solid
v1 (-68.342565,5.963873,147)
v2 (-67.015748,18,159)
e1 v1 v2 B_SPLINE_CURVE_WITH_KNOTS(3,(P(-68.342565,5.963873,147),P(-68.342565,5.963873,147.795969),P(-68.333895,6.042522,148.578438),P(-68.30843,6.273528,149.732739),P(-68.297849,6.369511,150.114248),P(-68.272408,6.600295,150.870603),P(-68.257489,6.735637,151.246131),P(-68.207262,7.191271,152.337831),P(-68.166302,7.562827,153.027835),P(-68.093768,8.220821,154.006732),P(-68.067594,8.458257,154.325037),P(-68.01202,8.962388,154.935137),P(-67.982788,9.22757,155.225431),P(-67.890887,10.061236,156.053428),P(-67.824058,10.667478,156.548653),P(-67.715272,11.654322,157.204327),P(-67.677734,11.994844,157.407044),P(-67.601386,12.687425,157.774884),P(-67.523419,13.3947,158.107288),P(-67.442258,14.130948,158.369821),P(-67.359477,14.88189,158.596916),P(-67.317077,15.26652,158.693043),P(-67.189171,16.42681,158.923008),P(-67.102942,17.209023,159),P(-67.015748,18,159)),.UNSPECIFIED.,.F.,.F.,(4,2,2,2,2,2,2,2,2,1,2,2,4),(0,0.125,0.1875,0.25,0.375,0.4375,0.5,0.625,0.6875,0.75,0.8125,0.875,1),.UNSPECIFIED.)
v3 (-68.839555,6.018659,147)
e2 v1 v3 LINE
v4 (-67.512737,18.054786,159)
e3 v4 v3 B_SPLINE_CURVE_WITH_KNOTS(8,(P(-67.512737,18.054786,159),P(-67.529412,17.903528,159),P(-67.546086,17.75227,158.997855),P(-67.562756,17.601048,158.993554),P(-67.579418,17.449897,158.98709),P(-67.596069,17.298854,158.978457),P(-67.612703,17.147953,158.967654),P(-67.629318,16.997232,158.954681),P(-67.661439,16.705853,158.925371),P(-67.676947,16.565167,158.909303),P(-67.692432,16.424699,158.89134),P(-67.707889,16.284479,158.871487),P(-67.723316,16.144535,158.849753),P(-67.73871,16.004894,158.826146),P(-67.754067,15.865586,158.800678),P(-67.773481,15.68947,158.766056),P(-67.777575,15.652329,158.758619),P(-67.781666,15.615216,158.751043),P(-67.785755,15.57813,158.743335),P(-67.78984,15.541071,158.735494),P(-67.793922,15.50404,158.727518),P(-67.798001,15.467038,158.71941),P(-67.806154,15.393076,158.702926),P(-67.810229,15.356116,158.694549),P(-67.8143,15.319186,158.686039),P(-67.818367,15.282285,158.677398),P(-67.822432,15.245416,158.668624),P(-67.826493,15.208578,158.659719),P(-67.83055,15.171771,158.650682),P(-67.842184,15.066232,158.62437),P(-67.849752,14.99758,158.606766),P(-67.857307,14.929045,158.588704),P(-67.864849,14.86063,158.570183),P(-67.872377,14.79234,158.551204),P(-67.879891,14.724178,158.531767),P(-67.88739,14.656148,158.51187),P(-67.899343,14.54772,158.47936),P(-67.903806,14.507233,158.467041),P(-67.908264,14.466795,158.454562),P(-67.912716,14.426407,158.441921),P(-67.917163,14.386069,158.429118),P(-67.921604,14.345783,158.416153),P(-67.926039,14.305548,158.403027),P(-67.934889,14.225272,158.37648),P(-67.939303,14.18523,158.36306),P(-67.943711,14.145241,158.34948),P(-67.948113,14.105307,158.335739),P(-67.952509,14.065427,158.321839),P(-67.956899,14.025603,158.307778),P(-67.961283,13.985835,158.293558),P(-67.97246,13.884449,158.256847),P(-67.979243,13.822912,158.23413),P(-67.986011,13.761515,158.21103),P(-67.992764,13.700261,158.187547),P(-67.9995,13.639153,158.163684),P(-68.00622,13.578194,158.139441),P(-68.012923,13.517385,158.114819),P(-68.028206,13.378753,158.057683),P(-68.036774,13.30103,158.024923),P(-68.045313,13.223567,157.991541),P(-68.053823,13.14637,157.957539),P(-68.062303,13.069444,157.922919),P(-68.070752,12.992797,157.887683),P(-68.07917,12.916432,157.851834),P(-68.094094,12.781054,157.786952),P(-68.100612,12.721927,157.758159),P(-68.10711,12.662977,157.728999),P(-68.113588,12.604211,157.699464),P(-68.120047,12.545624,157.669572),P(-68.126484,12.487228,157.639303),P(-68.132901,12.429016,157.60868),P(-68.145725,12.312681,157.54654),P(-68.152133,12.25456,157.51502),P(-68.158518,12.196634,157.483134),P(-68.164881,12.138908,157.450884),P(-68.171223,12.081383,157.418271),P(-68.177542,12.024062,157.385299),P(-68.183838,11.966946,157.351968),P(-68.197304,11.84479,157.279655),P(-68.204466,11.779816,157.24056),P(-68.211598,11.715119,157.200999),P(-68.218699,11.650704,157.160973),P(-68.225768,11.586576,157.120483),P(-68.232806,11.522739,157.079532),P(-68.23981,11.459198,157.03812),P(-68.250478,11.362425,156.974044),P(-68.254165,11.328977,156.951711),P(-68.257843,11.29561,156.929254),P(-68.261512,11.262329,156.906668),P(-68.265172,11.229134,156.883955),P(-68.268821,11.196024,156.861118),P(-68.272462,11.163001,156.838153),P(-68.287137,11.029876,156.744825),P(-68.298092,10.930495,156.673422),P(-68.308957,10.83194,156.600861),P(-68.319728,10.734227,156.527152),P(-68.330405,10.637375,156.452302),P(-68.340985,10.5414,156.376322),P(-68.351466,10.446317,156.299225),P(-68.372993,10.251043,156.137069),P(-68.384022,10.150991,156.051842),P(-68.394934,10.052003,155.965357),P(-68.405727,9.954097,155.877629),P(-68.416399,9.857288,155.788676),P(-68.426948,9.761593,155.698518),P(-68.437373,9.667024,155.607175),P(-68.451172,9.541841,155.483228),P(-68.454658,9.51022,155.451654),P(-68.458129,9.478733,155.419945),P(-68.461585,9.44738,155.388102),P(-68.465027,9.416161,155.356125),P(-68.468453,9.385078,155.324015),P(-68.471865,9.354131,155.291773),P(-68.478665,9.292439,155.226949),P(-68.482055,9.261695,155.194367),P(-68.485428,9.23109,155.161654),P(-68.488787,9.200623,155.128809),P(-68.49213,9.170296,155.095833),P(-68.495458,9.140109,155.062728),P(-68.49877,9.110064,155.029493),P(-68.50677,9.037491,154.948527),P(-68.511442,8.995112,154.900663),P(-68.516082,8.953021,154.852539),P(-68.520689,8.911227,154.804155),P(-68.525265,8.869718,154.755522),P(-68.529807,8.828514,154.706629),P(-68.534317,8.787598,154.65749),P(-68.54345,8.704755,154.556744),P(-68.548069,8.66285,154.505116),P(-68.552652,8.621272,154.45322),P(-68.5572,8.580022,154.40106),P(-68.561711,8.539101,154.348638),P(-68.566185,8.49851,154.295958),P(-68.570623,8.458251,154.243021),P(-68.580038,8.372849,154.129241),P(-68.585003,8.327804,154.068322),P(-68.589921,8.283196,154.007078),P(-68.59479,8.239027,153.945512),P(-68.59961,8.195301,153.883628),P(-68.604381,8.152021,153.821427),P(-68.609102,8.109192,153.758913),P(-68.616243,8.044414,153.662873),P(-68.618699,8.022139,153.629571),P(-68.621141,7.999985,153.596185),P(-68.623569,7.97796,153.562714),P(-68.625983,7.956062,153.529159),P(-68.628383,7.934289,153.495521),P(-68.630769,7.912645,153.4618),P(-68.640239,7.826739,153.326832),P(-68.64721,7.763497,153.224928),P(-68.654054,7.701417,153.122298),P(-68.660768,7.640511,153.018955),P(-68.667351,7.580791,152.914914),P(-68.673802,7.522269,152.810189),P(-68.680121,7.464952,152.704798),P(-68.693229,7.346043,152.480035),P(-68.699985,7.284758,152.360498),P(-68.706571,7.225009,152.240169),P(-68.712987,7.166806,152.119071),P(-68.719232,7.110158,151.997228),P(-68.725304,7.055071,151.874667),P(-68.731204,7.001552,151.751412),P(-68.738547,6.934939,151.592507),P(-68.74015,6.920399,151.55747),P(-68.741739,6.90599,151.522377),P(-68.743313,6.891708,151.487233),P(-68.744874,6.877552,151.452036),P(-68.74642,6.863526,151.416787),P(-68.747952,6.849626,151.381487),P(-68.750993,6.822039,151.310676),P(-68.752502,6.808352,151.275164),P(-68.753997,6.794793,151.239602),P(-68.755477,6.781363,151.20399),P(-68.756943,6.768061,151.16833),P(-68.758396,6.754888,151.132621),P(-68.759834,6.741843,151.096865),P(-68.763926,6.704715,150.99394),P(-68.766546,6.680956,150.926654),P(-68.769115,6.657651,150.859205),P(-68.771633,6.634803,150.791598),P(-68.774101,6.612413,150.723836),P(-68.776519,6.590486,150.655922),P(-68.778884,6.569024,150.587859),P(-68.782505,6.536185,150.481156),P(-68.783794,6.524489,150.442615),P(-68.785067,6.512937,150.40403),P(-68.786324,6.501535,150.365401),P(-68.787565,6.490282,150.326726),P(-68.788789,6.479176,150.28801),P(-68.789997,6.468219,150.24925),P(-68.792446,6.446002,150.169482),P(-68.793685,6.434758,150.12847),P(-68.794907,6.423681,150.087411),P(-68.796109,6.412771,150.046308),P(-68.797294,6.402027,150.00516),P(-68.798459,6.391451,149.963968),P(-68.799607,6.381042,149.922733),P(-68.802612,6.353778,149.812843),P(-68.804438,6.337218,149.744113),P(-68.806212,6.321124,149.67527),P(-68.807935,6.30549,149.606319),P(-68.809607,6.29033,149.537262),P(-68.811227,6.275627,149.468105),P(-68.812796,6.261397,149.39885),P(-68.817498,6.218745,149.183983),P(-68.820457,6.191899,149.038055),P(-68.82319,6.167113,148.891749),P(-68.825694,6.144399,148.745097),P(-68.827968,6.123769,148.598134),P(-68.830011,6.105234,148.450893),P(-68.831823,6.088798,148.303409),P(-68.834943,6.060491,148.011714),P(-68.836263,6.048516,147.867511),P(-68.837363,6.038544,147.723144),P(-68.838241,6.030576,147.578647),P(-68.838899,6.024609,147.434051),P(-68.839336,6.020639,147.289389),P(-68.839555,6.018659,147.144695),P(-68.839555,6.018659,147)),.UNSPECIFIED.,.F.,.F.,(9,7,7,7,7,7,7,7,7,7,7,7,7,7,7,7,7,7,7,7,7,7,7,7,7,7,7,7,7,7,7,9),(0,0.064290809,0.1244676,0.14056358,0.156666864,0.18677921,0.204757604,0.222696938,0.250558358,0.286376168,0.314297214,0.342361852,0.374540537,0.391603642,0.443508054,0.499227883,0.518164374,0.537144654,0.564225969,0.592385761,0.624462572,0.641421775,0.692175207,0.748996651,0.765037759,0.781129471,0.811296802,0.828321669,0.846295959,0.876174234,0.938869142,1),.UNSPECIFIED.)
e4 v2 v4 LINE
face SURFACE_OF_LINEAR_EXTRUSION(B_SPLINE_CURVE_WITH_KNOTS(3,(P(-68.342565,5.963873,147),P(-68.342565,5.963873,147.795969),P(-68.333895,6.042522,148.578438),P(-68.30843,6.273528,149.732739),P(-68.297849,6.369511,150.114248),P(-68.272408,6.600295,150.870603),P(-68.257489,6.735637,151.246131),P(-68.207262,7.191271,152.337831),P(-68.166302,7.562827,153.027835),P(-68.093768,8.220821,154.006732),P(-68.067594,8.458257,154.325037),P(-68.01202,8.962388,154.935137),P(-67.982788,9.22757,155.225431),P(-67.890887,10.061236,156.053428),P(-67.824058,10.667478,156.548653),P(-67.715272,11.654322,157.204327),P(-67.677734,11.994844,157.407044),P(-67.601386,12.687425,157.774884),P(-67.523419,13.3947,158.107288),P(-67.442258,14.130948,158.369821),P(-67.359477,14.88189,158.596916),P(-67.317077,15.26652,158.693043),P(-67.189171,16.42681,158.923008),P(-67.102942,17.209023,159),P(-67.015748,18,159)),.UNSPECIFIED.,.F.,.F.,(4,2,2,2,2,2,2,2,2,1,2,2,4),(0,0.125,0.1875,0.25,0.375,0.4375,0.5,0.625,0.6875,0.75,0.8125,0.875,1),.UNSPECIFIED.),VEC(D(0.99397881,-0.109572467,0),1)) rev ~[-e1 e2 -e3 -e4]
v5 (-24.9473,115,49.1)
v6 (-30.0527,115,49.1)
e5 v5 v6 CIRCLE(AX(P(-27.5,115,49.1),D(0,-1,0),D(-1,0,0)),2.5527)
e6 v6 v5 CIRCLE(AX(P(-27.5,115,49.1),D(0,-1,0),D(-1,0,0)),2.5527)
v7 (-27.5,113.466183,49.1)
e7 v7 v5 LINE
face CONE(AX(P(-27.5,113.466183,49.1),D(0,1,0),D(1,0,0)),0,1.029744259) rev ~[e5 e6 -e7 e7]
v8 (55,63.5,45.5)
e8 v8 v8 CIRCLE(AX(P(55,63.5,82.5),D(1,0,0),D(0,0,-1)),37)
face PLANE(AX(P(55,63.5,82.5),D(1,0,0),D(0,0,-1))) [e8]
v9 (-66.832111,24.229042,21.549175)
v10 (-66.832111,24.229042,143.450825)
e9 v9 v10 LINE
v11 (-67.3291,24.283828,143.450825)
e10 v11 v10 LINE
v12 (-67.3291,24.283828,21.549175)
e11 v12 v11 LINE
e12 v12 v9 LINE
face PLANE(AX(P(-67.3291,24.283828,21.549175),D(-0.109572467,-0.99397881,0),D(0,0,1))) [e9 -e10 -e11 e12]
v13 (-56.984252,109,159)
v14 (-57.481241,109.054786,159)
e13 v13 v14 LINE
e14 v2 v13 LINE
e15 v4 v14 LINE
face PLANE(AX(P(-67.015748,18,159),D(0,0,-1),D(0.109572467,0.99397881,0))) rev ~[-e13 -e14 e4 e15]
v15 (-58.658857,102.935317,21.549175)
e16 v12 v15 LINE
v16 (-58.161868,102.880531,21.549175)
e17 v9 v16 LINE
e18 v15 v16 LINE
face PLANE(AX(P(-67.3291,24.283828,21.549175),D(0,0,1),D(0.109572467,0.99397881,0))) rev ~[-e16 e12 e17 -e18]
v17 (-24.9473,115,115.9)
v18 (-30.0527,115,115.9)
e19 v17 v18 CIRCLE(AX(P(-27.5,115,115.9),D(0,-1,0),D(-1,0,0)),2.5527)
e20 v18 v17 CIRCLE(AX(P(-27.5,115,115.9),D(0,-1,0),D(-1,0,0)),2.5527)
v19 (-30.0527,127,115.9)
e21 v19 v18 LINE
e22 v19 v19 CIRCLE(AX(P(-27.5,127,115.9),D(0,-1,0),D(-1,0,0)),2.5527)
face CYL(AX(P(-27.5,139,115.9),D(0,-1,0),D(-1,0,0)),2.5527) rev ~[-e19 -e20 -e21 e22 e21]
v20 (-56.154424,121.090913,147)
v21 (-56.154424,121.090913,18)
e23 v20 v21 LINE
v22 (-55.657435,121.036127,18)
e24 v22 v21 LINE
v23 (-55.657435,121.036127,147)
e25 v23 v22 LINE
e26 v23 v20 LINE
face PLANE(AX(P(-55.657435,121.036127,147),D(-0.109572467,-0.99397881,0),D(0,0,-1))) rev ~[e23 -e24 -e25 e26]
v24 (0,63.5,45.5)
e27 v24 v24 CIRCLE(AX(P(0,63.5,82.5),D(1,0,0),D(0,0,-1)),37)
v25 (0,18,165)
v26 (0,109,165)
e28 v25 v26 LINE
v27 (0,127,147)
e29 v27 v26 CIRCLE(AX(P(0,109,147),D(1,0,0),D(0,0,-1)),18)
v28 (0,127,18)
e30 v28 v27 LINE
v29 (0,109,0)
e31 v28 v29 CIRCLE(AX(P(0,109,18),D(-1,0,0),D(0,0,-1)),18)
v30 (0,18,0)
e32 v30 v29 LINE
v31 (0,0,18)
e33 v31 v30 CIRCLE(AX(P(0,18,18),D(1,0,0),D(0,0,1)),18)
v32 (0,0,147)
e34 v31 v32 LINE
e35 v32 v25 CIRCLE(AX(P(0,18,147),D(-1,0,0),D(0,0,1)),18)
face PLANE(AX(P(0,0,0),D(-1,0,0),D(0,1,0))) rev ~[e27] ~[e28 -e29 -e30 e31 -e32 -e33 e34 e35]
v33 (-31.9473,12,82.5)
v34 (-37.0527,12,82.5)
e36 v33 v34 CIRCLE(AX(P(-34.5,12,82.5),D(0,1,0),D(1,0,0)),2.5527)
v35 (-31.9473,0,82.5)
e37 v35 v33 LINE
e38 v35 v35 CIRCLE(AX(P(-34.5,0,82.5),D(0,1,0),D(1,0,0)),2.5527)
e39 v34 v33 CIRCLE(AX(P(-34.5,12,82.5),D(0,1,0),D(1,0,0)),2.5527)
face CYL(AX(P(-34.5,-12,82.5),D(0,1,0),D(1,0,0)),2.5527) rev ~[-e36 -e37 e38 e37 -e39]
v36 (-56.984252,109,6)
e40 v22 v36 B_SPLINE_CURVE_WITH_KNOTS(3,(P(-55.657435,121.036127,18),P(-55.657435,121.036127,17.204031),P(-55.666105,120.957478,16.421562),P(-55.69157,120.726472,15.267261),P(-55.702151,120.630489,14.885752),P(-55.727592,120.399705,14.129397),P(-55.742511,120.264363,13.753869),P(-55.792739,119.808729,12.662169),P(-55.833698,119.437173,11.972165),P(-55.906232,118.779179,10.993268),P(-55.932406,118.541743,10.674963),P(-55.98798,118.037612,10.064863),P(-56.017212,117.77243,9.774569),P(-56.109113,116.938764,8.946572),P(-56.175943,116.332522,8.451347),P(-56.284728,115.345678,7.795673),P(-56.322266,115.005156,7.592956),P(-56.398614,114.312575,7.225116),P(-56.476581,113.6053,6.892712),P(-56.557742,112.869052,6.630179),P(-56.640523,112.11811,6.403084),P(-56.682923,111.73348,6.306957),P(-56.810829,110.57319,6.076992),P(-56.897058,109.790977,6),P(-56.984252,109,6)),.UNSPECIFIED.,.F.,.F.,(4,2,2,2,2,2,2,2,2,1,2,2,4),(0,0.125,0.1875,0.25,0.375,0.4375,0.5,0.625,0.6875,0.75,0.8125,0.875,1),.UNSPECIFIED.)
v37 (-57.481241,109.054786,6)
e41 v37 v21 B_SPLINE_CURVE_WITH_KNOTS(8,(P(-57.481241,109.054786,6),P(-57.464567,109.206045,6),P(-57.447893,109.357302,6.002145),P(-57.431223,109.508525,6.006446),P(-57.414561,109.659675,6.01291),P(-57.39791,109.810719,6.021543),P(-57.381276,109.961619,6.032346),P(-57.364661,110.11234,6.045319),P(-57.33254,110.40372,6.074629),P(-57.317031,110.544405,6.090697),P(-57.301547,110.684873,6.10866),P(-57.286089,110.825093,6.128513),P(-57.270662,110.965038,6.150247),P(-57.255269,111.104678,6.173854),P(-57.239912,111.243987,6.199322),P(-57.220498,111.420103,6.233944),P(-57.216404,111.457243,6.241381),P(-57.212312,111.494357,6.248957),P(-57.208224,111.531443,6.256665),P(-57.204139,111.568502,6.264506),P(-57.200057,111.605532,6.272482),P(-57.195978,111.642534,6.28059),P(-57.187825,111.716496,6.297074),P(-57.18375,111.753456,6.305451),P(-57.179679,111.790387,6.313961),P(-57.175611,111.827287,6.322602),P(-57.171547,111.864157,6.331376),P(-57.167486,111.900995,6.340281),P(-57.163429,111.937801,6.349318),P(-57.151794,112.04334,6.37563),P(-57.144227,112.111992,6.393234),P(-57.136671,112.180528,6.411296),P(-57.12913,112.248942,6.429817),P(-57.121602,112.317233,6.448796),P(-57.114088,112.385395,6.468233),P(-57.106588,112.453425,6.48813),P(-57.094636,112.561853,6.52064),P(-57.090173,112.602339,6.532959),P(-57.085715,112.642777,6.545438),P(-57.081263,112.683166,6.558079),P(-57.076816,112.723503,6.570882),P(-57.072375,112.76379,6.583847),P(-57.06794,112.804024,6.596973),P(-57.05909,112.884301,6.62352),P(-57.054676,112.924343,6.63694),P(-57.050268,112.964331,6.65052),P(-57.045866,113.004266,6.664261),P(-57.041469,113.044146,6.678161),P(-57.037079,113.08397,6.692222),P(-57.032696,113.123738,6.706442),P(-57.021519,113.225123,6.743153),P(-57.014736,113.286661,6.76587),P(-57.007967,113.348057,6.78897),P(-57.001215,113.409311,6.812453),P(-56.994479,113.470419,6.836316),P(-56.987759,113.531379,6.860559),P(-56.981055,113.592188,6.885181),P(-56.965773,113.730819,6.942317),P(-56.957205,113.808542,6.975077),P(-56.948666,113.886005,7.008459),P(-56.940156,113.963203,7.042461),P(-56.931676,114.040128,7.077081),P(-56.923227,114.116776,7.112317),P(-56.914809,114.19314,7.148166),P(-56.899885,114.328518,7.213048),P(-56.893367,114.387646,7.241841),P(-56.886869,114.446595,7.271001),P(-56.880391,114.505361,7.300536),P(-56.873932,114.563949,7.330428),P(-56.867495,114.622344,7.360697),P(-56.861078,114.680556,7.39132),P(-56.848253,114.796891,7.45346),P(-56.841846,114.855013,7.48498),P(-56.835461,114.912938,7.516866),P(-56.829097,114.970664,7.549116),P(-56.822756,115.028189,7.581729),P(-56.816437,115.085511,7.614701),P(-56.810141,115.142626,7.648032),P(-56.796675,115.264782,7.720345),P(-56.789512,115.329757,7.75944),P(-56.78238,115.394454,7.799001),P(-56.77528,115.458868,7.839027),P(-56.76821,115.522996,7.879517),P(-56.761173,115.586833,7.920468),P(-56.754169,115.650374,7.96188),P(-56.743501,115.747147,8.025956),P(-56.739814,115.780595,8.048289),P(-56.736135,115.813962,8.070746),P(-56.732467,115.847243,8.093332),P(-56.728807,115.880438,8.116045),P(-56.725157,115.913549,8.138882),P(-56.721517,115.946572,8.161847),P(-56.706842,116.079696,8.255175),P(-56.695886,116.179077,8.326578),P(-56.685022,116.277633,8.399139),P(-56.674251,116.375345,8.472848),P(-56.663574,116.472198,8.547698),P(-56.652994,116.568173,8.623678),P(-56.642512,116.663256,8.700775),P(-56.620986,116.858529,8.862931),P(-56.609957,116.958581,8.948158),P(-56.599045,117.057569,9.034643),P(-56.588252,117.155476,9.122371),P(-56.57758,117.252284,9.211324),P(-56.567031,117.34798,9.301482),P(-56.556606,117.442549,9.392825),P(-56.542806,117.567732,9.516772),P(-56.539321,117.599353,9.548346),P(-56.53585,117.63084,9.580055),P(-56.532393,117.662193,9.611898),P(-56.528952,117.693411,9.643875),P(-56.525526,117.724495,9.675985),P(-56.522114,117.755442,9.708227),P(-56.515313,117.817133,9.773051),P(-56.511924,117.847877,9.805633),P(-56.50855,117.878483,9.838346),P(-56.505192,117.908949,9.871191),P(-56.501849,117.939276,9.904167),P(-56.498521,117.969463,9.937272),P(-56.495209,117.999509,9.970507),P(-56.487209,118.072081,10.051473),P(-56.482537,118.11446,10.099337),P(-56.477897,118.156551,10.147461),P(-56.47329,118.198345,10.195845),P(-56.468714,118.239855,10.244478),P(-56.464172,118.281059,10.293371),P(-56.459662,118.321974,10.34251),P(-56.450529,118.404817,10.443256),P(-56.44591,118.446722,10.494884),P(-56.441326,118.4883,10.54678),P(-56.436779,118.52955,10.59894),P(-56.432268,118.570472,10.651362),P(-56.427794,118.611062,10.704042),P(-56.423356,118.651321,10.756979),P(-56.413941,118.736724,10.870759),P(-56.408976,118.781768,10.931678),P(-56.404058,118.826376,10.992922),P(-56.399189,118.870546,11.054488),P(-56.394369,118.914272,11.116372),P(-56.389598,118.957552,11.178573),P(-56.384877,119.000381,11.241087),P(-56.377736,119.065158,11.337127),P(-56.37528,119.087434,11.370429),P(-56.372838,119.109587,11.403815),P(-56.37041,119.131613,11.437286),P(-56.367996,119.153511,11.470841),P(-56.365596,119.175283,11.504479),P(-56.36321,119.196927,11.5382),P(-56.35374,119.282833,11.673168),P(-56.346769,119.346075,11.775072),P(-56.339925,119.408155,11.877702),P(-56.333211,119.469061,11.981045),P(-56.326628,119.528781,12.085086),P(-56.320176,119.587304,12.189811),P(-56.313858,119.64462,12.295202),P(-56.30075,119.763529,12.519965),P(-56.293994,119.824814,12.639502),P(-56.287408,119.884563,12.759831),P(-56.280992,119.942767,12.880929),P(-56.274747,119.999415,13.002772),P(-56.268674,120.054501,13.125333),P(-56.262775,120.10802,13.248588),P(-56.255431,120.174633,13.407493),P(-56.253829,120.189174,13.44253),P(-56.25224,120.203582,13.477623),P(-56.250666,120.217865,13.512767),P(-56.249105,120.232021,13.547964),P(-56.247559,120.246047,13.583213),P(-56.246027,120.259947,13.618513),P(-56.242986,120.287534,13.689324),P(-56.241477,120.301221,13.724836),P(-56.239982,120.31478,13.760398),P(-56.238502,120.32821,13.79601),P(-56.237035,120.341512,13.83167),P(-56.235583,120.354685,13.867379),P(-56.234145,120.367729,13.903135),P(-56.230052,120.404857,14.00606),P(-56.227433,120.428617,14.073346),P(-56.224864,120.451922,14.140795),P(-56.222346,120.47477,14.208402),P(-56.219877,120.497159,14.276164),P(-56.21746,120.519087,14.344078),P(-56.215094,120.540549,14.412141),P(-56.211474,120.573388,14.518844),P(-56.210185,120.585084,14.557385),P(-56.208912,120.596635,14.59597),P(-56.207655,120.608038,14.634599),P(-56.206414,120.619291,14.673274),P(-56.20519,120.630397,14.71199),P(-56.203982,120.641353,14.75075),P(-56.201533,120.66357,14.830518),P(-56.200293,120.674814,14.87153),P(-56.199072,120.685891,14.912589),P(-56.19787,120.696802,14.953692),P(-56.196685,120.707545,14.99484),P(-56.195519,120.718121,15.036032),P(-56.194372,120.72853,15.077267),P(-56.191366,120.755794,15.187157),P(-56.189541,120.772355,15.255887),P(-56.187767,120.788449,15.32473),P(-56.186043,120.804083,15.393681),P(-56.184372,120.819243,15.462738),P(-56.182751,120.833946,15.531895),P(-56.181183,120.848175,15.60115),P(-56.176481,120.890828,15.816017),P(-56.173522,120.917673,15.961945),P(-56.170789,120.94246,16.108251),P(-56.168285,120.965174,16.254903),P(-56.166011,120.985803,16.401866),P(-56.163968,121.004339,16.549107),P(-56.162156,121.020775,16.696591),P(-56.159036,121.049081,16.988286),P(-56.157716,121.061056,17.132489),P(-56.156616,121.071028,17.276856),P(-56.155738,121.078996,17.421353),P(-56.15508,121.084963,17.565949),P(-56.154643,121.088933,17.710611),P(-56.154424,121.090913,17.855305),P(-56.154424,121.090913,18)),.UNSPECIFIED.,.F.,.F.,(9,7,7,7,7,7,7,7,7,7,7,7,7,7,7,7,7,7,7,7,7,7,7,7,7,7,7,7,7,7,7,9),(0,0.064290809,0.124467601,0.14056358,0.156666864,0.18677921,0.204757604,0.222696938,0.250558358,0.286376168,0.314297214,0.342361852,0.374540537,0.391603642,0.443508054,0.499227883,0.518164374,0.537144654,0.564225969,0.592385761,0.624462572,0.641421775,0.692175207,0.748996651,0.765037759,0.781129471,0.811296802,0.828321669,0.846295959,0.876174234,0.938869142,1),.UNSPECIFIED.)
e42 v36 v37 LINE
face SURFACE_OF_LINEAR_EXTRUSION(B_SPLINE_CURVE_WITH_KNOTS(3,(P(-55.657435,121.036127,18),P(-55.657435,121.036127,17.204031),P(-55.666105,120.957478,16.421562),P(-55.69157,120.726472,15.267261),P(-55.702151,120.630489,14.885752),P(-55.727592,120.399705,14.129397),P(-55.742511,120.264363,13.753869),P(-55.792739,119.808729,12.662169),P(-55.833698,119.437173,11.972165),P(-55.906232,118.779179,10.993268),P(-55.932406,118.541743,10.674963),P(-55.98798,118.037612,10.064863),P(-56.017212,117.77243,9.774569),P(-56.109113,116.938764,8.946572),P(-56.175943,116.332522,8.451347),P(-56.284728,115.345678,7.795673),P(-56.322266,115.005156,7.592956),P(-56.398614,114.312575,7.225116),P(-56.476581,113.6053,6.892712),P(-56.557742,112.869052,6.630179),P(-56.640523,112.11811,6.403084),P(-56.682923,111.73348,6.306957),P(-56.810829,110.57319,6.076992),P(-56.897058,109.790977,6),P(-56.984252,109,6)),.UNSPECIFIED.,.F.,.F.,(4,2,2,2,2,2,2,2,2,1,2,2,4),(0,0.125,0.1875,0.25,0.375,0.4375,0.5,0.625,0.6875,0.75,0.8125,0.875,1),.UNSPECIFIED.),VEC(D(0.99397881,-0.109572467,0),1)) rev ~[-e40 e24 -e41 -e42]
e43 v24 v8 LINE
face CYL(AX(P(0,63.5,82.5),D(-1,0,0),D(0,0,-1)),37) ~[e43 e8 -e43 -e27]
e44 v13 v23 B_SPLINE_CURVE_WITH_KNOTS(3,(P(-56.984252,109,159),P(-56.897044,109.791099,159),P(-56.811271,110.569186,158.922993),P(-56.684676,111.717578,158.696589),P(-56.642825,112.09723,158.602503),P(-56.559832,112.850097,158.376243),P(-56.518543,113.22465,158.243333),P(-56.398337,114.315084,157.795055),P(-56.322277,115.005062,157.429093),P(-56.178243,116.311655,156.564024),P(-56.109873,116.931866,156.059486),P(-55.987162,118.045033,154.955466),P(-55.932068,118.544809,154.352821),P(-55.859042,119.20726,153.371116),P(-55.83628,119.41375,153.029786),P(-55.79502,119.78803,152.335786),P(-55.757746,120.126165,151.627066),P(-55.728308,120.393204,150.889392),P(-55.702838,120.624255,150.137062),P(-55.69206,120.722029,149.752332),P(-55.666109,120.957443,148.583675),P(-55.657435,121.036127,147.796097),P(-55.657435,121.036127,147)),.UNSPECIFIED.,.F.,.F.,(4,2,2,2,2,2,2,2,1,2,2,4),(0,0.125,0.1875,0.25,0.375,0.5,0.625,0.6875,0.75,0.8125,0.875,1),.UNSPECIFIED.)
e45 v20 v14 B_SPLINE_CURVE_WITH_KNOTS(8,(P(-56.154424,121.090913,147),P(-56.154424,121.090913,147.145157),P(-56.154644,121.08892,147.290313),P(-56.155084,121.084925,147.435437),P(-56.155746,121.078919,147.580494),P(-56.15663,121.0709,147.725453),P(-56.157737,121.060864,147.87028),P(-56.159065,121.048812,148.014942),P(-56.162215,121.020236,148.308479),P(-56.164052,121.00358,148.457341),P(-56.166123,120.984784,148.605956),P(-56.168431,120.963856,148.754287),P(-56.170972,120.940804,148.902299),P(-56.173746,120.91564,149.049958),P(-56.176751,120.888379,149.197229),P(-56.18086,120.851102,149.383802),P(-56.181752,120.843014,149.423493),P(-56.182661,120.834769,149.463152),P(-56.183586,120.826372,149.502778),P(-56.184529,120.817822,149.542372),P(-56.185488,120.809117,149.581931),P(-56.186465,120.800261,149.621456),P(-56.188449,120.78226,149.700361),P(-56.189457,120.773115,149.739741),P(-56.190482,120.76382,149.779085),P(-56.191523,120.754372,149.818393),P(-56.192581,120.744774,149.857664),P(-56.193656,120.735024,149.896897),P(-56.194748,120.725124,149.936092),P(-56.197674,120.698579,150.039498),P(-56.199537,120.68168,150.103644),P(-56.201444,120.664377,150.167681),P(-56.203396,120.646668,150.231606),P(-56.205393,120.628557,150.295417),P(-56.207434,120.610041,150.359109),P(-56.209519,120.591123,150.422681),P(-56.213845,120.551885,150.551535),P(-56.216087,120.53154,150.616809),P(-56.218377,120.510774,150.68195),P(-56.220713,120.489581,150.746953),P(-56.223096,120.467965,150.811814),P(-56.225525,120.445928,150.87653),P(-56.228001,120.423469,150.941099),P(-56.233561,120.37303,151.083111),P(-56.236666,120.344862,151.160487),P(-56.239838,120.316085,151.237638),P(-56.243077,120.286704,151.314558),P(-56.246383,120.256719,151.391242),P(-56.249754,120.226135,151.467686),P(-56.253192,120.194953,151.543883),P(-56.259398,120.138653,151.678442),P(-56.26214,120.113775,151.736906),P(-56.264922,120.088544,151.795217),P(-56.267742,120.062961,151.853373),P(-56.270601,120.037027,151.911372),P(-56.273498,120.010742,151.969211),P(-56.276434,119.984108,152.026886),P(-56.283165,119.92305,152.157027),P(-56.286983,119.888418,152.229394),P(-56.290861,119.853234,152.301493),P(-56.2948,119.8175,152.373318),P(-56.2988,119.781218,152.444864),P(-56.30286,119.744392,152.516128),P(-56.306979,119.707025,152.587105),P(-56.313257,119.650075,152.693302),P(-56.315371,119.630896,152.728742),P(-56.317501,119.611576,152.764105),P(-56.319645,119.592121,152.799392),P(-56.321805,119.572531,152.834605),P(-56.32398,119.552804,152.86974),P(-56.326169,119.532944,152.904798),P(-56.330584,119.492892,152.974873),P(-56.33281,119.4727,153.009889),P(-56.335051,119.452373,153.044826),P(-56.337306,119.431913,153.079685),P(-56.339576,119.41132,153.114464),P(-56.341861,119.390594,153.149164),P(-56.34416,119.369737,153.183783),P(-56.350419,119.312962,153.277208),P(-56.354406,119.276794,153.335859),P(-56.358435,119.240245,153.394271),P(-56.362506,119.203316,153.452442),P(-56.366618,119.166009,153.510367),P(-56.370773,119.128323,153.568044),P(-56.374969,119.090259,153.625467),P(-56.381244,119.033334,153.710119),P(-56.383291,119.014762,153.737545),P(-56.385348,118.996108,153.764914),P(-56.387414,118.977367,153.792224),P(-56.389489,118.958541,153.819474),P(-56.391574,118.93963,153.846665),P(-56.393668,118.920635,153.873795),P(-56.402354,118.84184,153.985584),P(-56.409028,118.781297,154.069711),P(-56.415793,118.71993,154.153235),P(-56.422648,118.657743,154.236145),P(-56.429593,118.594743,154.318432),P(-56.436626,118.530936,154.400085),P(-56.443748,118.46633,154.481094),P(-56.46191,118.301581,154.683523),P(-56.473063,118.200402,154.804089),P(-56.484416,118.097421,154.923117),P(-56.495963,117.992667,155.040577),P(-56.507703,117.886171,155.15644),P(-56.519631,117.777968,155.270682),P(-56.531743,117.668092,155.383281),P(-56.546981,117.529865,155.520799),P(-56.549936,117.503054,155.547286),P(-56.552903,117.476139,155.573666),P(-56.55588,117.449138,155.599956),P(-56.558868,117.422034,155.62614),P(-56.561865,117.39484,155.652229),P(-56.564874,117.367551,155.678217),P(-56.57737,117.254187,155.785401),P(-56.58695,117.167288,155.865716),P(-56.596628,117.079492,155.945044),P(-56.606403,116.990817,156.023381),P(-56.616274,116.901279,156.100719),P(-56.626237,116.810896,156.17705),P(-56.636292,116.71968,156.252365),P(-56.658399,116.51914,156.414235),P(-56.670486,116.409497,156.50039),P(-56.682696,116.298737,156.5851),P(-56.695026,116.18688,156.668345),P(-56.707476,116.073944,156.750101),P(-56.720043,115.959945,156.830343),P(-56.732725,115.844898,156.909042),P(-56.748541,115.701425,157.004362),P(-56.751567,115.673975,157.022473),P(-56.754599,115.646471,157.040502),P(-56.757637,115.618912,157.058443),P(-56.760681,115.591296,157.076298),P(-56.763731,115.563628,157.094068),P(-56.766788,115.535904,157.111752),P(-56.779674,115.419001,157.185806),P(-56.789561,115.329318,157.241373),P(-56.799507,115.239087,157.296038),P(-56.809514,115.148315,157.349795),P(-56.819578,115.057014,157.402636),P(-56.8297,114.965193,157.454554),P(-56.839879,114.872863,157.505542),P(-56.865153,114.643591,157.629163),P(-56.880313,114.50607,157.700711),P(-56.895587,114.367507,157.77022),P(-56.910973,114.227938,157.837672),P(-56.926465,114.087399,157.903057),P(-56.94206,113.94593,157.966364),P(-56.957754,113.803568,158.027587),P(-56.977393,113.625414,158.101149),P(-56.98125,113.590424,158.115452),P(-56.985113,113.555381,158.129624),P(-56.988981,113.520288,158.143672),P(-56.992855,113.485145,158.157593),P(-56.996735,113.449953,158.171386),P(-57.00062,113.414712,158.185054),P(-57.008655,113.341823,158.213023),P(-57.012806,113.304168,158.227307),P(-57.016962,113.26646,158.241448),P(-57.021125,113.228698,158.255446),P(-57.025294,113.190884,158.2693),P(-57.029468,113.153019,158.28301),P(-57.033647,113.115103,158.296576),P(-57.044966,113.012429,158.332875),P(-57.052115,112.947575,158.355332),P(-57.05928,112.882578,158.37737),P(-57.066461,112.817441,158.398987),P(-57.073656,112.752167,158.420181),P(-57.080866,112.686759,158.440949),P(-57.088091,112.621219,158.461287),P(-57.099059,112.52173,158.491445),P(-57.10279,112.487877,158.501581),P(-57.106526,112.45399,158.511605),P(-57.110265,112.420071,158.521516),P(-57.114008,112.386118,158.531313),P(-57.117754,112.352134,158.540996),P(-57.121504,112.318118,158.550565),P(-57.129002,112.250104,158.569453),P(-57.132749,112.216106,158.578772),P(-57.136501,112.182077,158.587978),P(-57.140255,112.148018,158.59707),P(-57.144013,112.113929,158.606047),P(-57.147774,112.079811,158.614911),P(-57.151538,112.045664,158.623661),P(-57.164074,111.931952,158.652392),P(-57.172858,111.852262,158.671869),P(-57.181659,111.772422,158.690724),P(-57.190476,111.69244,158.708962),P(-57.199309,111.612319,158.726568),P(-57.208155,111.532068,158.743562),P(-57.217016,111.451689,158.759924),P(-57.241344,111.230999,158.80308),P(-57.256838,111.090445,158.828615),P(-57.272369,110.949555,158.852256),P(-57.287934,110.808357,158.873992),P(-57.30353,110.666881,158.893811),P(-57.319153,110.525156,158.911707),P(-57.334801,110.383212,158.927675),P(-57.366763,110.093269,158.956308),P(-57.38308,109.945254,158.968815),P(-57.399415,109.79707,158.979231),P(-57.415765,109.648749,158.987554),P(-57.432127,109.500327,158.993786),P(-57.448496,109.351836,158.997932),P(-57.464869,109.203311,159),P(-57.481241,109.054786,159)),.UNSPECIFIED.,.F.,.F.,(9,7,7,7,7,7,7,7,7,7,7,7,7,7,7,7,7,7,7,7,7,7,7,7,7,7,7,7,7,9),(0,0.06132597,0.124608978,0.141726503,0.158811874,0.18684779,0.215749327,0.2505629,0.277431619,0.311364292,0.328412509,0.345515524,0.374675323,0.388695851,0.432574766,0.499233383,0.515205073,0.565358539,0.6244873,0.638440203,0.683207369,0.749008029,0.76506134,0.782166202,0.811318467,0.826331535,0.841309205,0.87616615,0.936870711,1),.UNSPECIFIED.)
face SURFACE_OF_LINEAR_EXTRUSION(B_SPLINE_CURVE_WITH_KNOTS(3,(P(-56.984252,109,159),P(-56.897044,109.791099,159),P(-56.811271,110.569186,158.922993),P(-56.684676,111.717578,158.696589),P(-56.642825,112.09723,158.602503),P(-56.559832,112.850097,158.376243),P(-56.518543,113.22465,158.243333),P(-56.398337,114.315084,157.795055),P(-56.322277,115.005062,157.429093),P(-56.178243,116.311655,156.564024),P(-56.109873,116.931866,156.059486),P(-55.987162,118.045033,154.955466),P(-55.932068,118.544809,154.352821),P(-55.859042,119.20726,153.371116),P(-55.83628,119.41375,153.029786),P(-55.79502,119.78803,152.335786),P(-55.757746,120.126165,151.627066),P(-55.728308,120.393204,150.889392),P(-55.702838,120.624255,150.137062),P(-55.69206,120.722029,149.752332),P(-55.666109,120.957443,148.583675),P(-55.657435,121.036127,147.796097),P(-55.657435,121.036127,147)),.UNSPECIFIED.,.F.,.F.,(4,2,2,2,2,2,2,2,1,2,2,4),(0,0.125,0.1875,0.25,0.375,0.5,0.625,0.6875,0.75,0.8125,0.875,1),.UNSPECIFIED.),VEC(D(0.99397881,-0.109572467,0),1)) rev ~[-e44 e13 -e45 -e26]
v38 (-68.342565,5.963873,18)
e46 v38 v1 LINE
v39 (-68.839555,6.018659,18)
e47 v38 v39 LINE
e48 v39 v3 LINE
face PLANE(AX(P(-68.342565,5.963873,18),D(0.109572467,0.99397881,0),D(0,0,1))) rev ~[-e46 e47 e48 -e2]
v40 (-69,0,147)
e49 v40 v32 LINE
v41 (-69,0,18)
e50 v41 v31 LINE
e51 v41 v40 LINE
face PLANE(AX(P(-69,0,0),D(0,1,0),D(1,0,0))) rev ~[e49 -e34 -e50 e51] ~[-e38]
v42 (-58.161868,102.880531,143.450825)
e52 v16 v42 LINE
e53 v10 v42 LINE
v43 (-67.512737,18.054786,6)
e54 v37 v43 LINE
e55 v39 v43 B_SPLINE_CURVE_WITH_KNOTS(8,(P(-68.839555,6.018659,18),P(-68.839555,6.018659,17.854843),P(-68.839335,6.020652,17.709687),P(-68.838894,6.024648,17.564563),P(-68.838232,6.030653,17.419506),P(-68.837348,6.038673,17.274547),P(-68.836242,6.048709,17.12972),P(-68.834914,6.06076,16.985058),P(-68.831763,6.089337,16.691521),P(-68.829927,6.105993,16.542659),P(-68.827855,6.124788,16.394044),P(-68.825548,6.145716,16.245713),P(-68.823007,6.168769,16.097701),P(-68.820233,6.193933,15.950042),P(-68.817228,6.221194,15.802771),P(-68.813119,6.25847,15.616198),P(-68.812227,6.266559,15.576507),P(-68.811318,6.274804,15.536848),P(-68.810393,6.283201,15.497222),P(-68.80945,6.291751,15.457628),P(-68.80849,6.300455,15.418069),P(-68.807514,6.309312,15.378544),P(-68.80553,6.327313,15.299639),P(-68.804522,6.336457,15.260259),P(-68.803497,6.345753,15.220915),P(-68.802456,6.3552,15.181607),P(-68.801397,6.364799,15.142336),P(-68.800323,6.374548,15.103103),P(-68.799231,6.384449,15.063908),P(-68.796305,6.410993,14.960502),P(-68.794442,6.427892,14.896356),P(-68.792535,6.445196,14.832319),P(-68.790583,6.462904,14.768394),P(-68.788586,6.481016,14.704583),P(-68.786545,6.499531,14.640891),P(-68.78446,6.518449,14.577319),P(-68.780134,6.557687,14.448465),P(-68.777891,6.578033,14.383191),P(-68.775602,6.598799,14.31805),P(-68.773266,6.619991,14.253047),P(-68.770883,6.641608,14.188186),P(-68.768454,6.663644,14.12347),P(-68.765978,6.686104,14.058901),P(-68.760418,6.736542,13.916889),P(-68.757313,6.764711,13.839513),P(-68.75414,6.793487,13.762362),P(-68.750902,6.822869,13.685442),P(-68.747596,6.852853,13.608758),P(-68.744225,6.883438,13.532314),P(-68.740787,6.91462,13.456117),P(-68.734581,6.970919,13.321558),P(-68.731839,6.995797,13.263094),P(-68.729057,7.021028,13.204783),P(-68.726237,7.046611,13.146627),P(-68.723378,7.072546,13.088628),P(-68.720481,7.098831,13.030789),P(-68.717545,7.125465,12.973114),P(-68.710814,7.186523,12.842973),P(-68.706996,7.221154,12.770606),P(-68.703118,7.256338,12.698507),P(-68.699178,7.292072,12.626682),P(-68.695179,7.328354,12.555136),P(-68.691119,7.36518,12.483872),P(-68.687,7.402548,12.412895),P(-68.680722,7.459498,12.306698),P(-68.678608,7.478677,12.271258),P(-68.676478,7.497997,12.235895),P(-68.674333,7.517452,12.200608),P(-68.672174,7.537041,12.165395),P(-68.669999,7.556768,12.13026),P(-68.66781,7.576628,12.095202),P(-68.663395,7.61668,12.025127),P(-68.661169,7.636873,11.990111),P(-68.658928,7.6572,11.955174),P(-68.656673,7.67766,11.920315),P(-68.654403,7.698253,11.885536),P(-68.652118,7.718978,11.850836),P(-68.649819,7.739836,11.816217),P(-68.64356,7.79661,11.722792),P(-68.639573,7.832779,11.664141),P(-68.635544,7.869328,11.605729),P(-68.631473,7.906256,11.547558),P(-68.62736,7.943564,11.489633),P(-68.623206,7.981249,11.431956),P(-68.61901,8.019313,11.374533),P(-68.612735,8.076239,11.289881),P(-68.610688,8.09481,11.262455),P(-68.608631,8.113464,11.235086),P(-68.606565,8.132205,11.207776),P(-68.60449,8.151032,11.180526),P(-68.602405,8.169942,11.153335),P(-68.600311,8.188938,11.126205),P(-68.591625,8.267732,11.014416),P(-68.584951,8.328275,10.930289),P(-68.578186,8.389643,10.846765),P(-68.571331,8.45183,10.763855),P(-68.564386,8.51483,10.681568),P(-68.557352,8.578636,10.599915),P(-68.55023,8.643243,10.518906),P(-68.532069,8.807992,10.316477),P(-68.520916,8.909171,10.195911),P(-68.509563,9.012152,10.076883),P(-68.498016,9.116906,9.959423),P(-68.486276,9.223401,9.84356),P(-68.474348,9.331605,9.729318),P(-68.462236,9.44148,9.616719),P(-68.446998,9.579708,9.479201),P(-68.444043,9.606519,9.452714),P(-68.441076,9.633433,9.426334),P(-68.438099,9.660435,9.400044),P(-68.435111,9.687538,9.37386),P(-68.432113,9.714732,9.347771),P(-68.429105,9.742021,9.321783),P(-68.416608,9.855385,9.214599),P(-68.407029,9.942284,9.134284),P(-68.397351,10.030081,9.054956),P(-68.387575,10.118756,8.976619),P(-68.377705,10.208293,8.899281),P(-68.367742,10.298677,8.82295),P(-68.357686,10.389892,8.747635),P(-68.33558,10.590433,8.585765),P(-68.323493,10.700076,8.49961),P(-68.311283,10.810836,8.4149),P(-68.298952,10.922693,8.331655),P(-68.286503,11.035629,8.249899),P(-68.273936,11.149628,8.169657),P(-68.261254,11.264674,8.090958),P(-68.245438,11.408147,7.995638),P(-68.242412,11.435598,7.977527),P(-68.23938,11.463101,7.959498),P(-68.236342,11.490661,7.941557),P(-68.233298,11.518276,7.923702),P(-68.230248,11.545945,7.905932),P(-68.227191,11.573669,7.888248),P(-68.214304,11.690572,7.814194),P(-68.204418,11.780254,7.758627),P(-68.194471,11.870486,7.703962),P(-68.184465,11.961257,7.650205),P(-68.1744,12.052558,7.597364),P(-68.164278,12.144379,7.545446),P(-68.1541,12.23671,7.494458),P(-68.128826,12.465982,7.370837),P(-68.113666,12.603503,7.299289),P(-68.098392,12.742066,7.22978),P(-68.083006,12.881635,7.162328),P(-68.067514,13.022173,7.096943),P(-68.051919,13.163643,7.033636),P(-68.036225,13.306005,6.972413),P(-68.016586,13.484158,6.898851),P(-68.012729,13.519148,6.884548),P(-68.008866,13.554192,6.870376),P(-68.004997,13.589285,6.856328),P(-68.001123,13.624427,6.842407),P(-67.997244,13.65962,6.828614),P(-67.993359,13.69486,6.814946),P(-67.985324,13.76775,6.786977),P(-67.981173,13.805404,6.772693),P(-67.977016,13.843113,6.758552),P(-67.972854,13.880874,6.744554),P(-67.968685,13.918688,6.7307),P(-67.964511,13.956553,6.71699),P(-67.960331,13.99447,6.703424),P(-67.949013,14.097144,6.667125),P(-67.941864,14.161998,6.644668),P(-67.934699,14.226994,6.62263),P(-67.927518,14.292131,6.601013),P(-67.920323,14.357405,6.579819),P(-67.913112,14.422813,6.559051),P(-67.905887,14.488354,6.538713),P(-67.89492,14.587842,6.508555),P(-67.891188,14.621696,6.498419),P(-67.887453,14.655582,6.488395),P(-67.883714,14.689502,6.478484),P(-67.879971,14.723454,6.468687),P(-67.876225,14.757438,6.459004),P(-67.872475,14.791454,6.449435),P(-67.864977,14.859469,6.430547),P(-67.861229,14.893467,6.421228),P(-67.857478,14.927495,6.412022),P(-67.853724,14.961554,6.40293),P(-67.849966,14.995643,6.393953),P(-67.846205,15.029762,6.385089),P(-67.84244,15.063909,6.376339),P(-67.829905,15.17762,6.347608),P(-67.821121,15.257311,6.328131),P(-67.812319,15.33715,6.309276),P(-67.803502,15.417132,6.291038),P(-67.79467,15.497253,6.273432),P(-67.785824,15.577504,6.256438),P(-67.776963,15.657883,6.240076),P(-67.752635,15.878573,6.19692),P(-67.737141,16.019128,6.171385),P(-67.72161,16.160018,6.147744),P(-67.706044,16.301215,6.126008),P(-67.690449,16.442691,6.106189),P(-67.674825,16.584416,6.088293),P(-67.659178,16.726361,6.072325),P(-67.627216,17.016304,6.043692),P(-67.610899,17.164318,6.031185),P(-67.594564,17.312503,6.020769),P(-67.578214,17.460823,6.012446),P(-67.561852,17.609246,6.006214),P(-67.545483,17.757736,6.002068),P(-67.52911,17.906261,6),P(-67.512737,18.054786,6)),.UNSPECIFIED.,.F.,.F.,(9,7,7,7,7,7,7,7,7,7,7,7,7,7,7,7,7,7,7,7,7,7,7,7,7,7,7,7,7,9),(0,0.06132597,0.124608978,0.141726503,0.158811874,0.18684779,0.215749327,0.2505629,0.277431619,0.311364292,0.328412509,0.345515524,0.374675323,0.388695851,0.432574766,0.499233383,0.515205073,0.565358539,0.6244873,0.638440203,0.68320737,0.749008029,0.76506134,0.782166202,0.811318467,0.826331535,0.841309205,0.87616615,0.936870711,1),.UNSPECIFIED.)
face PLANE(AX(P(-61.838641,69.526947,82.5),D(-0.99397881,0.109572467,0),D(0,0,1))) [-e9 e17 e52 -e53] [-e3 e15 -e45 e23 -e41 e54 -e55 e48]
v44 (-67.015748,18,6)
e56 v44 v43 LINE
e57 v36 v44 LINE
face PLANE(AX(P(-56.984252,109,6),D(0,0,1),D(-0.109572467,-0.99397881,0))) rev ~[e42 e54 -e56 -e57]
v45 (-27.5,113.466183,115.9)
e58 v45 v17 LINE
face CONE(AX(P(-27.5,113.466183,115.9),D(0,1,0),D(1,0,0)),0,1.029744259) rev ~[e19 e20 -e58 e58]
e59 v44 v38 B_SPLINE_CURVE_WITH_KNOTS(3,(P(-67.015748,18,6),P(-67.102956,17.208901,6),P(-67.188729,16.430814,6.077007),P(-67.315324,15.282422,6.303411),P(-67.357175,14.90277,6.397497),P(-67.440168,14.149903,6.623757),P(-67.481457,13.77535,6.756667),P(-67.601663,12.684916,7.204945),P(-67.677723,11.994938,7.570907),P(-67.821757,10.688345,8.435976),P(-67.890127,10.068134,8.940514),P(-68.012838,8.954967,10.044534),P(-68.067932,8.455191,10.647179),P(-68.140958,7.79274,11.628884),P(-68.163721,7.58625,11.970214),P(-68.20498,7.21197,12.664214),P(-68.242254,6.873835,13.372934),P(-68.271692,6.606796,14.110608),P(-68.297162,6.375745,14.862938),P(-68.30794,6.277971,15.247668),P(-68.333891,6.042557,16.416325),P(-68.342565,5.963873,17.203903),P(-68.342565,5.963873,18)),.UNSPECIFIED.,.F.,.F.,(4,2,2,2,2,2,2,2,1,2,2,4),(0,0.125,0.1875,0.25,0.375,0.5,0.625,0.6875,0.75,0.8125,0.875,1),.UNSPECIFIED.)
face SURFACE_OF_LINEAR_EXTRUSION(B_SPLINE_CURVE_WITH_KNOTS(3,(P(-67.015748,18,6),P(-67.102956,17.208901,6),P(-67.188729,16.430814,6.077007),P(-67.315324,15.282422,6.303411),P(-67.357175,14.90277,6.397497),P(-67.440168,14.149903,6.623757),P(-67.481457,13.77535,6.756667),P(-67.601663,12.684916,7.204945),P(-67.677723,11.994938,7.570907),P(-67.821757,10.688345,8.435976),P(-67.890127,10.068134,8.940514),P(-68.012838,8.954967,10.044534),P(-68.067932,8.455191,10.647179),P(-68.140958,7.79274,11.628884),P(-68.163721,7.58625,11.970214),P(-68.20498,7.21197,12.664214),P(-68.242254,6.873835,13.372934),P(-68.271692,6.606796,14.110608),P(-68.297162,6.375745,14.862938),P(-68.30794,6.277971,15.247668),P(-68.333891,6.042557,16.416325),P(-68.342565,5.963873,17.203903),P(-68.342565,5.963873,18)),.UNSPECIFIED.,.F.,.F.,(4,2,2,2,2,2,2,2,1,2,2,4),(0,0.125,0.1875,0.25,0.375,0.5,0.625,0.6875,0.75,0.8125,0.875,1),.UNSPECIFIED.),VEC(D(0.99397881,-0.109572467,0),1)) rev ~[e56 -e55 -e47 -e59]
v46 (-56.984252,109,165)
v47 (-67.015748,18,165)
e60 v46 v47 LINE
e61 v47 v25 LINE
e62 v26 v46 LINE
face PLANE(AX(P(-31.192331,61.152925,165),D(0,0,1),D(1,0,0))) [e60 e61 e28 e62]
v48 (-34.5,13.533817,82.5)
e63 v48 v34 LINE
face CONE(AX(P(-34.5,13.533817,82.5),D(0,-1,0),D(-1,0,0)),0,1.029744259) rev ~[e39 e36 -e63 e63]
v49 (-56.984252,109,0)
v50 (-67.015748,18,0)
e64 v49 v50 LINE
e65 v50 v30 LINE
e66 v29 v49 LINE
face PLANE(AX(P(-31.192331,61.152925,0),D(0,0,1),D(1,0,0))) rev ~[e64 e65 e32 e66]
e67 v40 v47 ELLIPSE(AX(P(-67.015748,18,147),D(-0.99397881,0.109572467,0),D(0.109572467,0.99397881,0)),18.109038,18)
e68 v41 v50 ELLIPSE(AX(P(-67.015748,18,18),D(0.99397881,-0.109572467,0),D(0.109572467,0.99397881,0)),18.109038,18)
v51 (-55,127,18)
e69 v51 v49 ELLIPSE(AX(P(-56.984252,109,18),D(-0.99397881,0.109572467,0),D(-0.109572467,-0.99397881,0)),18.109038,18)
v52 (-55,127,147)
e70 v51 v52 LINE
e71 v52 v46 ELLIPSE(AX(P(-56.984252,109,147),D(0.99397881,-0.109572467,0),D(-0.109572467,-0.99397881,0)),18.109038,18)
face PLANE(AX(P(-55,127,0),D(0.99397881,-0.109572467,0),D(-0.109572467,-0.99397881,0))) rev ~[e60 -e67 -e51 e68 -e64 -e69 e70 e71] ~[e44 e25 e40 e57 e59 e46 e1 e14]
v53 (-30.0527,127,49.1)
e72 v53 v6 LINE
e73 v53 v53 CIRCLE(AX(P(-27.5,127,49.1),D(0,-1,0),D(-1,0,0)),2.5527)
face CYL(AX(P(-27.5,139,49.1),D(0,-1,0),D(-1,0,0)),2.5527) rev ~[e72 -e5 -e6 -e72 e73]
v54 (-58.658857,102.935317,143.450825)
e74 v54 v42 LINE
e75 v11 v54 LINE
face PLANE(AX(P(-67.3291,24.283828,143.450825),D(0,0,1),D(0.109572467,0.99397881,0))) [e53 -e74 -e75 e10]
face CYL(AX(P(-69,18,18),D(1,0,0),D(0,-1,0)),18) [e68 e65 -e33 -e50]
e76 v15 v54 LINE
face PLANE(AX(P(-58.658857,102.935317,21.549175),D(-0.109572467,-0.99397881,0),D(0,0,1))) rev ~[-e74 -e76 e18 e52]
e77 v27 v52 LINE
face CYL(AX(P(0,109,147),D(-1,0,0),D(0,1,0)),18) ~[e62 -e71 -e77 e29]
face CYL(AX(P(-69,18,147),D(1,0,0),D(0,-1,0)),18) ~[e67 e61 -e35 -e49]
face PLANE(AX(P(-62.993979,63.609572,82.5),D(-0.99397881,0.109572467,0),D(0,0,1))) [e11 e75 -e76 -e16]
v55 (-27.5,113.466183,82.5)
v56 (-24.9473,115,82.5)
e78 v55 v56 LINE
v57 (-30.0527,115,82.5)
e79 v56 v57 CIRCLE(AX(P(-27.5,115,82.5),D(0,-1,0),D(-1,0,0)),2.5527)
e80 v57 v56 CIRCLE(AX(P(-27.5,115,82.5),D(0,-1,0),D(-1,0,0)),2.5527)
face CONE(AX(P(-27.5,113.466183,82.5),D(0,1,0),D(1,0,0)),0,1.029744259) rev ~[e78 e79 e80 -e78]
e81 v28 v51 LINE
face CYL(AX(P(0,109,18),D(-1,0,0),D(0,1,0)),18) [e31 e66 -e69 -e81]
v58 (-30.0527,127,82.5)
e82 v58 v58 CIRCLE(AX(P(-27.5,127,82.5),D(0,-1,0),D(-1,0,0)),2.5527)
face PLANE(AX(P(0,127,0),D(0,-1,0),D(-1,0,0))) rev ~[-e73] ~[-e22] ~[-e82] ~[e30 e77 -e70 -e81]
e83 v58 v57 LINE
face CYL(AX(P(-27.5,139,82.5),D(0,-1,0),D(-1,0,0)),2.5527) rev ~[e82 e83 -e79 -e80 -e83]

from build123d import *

# Parameters (mm, degrees)
EXTRUDE_1_DEPTH           = 165
FILLET_1_R                = 18
SKETCH_2_R                = 37
EXTRUDE_2_DEPTH           = 55
HOLE_WIZARD_1_4_201_D     = 5.1054
HOLE_WIZARD_1_4_201_DEPTH = 12
HOLE_WIZARD_1_4_201_TIP   = 1.533816902
HOLE_WIZARD_1_4_202_D     = 5.1054
HOLE_WIZARD_1_4_202_DEPTH = 12
HOLE_WIZARD_1_4_202_TIP   = 1.533816902
EXTRUDE_3_DEPTH           = 1
SKETCH_10_OUTSIDE_W       = 215.504
SKETCH_10_OUTSIDE_H       = 190.363
SKETCH_10_OUTSIDE_W_2     = 121.90164915
SKETCH_10_OUTSIDE_H_2     = 79.127933184
CUT_EXTRUDE_1_DEPTH       = 0.5


with BuildPart() as part:
    # Эскиз1 → Бобышка-Вытянуть1 (new body)
    with BuildSketch(Plane.XY):
        Polygon((0, 0), (0, 127), (-55, 127), (-69, 0), align=None)
    extrude(amount=EXTRUDE_1_DEPTH)

    # Скругление1
    fillet_1_edges = [part.edges().sort_by_distance(p)[0] for p in [
        (-27.5, 127, 165),
        (-34.5, 0, 165),
        (-27.5, 127, 0),
        (-34.5, 0, 0),
    ]]
    fillet(fillet_1_edges, radius=FILLET_1_R)

    # Эскиз2 → Бобышка-Вытянуть2 (add)
    with BuildSketch(Plane(origin=(0, 0, 0), x_dir=(0, 0, -1), z_dir=(1, 0, 0))):
        with Locations((-82.5, 63.5)):
            Circle(SKETCH_2_R)
    extrude(amount=EXTRUDE_2_DEPTH)

    # Отверстие обработанное метчиком 1/4-201
    with Locations(Plane(origin=(0, 127, 0), x_dir=(1, 0, 0), z_dir=(0, 1, 0))):
        with Locations((-27.5, -49.1), (-27.5, -82.5), (-27.5, -115.9)):
            Hole(HOLE_WIZARD_1_4_201_D / 2, depth=HOLE_WIZARD_1_4_201_DEPTH)
            with Locations((0, 0, -(HOLE_WIZARD_1_4_201_DEPTH + HOLE_WIZARD_1_4_201_TIP / 2))):  # 118° drill point
                Cone(0, HOLE_WIZARD_1_4_201_D / 2, HOLE_WIZARD_1_4_201_TIP, mode=Mode.SUBTRACT)

    # Отверстие обработанное метчиком 1/4-202
    with Locations(Plane(origin=(0, 0, 0), x_dir=(-1, 0, 0), z_dir=(0, -1, 0))):
        with Locations((34.5, -82.5)):
            Hole(HOLE_WIZARD_1_4_202_D / 2, depth=HOLE_WIZARD_1_4_202_DEPTH)
            with Locations((0, 0, -(HOLE_WIZARD_1_4_202_DEPTH + HOLE_WIZARD_1_4_202_TIP / 2))):  # 118° drill point
                Cone(0, HOLE_WIZARD_1_4_202_D / 2, HOLE_WIZARD_1_4_202_TIP, mode=Mode.SUBTRACT)

    # Эскиз9 → Бобышка-Вытянуть3 (add)
    with BuildSketch(Plane(origin=(-68.171577335, 7.514977029, 0), x_dir=(0, 0, 1), z_dir=(-0.99397881, 0.109572467, 0))):
        with BuildLine():
            Line((18, -1.560500239), (147, -1.560500239))
            add(Edge.make_bspline(
                [(147, -1.560500239), (147.795969048, -1.560500239), (148.578437938, -1.48137479), (149.732739087, -1.248968925), (150.114248167, -1.152405098), (150.870602957, -0.920222923), (151.246130664, -0.784060546), (152.337830508, -0.325667383), (153.027835256, 0.048140187), (154.006731596, 0.710119453), (154.325036907, 0.948994101), (154.935136946, 1.45617868), (155.225430555, 1.722967352), (156.053427969, 2.561683199), (156.548653408, 3.171597982), (157.20432669, 4.164420075), (157.407043585, 4.507004661), (157.774884438, 5.203781035), (158.107288123, 5.915340648), (158.369821072, 6.656048071), (158.596915662, 7.41153923), (158.6930429, 7.79849924), (158.923007799, 8.965817399), (159, 9.752769129), (159, 10.548537722)],
                knots=[0, 0, 0, 0, 0.125, 0.125, 0.1875, 0.1875, 0.25, 0.25, 0.375, 0.375, 0.4375, 0.4375, 0.5, 0.5, 0.625, 0.625, 0.6875, 0.6875, 0.75, 0.8125, 0.8125, 0.875, 0.875, 1, 1, 1, 1], degree=3))
            Line((159, 10.548537722), (159, 102.099785192))
            add(Edge.make_bspline(
                [(159, 102.099785192), (159, 102.89567677), (158.92299313, 103.678477169), (158.69658927, 104.833825846), (158.602503189, 105.215776987), (158.376242963, 105.973204292), (158.243333402, 106.350026622), (157.795055135, 107.447066101), (157.429092547, 108.141223603), (156.564023929, 109.455731539), (156.059486079, 110.079699577), (154.955465788, 111.199609881), (154.352820703, 111.702413635), (153.371115524, 112.368877293), (153.029785995, 112.576618568), (152.335786173, 112.953165195), (151.627066488, 113.293348749), (150.889392409, 113.562005098), (150.137062243, 113.794455923), (149.752332485, 113.89282261), (148.583675335, 114.129662505), (147.796097323, 114.208823153), (147, 114.208823153)],
                knots=[0, 0, 0, 0, 0.125, 0.125, 0.1875, 0.1875, 0.25, 0.25, 0.375, 0.375, 0.5, 0.5, 0.625, 0.625, 0.6875, 0.6875, 0.75, 0.8125, 0.8125, 0.875, 0.875, 1, 1, 1, 1], degree=3))
            Line((147, 114.208823153), (18, 114.208823153))
            add(Edge.make_bspline(
                [(18, 114.208823153), (17.204030952, 114.208823153), (16.421562062, 114.129697705), (15.267260913, 113.897291839), (14.885751833, 113.800728013), (14.129397043, 113.568545837), (13.753869336, 113.43238346), (12.662169492, 112.973990297), (11.972164744, 112.600182727), (10.993268404, 111.938203462), (10.674963093, 111.699328814), (10.064863054, 111.192144234), (9.774569445, 110.925355563), (8.946572031, 110.086639716), (8.451346592, 109.476724932), (7.79567331, 108.48390284), (7.592956415, 108.141318253), (7.225115562, 107.444541879), (6.892711877, 106.732982266), (6.630178928, 105.992274843), (6.403084338, 105.236783685), (6.3069571, 104.849823675), (6.076992201, 103.682505516), (6, 102.895553785), (6, 102.099785192)],
                knots=[0, 0, 0, 0, 0.125, 0.125, 0.1875, 0.1875, 0.25, 0.25, 0.375, 0.375, 0.4375, 0.4375, 0.5, 0.5, 0.625, 0.625, 0.6875, 0.6875, 0.75, 0.8125, 0.8125, 0.875, 0.875, 1, 1, 1, 1], degree=3))
            Line((6, 102.099785192), (6, 10.548537722))
            add(Edge.make_bspline(
                [(6, 10.548537722), (6, 9.752646144), (6.07700687, 8.969845746), (6.30341073, 7.814497069), (6.397496811, 7.432545928), (6.623757037, 6.675118622), (6.756666598, 6.298296292), (7.204944865, 5.201256813), (7.570907453, 4.507099312), (8.435976071, 3.192591376), (8.940513921, 2.568623338), (10.044534212, 1.448713034), (10.647179297, 0.945909279), (11.628884476, 0.279445622), (11.970214005, 0.071704346), (12.664213827, -0.30484228), (13.372933512, -0.645025835), (14.110607591, -0.913682184), (14.862937757, -1.146133008), (15.247667515, -1.244499696), (16.416324665, -1.48133959), (17.203902677, -1.560500239), (18, -1.560500239)],
                knots=[0, 0, 0, 0, 0.125, 0.125, 0.1875, 0.1875, 0.25, 0.25, 0.375, 0.375, 0.5, 0.5, 0.625, 0.625, 0.6875, 0.6875, 0.75, 0.8125, 0.8125, 0.875, 0.875, 1, 1, 1, 1], degree=3))
        make_face()
    extrude(amount=EXTRUDE_3_DEPTH)

    # Эскиз10 outside → Вырез-Вытянуть1 (cut)
    with BuildSketch(Plane(origin=(-69.165556145, 7.624549496, 0), x_dir=(0, 0, 1), z_dir=(-0.99397881, 0.109572467, 0))):
        with Locations((82.5, 62.3325)):
            Rectangle(SKETCH_10_OUTSIDE_W, SKETCH_10_OUTSIDE_H)
        with Locations((82.5, 56.324161457)):
            Rectangle(SKETCH_10_OUTSIDE_W_2, SKETCH_10_OUTSIDE_H_2, mode=Mode.SUBTRACT)
    extrude(amount=-CUT_EXTRUDE_1_DEPTH, mode=Mode.SUBTRACT)


solid = part.part
